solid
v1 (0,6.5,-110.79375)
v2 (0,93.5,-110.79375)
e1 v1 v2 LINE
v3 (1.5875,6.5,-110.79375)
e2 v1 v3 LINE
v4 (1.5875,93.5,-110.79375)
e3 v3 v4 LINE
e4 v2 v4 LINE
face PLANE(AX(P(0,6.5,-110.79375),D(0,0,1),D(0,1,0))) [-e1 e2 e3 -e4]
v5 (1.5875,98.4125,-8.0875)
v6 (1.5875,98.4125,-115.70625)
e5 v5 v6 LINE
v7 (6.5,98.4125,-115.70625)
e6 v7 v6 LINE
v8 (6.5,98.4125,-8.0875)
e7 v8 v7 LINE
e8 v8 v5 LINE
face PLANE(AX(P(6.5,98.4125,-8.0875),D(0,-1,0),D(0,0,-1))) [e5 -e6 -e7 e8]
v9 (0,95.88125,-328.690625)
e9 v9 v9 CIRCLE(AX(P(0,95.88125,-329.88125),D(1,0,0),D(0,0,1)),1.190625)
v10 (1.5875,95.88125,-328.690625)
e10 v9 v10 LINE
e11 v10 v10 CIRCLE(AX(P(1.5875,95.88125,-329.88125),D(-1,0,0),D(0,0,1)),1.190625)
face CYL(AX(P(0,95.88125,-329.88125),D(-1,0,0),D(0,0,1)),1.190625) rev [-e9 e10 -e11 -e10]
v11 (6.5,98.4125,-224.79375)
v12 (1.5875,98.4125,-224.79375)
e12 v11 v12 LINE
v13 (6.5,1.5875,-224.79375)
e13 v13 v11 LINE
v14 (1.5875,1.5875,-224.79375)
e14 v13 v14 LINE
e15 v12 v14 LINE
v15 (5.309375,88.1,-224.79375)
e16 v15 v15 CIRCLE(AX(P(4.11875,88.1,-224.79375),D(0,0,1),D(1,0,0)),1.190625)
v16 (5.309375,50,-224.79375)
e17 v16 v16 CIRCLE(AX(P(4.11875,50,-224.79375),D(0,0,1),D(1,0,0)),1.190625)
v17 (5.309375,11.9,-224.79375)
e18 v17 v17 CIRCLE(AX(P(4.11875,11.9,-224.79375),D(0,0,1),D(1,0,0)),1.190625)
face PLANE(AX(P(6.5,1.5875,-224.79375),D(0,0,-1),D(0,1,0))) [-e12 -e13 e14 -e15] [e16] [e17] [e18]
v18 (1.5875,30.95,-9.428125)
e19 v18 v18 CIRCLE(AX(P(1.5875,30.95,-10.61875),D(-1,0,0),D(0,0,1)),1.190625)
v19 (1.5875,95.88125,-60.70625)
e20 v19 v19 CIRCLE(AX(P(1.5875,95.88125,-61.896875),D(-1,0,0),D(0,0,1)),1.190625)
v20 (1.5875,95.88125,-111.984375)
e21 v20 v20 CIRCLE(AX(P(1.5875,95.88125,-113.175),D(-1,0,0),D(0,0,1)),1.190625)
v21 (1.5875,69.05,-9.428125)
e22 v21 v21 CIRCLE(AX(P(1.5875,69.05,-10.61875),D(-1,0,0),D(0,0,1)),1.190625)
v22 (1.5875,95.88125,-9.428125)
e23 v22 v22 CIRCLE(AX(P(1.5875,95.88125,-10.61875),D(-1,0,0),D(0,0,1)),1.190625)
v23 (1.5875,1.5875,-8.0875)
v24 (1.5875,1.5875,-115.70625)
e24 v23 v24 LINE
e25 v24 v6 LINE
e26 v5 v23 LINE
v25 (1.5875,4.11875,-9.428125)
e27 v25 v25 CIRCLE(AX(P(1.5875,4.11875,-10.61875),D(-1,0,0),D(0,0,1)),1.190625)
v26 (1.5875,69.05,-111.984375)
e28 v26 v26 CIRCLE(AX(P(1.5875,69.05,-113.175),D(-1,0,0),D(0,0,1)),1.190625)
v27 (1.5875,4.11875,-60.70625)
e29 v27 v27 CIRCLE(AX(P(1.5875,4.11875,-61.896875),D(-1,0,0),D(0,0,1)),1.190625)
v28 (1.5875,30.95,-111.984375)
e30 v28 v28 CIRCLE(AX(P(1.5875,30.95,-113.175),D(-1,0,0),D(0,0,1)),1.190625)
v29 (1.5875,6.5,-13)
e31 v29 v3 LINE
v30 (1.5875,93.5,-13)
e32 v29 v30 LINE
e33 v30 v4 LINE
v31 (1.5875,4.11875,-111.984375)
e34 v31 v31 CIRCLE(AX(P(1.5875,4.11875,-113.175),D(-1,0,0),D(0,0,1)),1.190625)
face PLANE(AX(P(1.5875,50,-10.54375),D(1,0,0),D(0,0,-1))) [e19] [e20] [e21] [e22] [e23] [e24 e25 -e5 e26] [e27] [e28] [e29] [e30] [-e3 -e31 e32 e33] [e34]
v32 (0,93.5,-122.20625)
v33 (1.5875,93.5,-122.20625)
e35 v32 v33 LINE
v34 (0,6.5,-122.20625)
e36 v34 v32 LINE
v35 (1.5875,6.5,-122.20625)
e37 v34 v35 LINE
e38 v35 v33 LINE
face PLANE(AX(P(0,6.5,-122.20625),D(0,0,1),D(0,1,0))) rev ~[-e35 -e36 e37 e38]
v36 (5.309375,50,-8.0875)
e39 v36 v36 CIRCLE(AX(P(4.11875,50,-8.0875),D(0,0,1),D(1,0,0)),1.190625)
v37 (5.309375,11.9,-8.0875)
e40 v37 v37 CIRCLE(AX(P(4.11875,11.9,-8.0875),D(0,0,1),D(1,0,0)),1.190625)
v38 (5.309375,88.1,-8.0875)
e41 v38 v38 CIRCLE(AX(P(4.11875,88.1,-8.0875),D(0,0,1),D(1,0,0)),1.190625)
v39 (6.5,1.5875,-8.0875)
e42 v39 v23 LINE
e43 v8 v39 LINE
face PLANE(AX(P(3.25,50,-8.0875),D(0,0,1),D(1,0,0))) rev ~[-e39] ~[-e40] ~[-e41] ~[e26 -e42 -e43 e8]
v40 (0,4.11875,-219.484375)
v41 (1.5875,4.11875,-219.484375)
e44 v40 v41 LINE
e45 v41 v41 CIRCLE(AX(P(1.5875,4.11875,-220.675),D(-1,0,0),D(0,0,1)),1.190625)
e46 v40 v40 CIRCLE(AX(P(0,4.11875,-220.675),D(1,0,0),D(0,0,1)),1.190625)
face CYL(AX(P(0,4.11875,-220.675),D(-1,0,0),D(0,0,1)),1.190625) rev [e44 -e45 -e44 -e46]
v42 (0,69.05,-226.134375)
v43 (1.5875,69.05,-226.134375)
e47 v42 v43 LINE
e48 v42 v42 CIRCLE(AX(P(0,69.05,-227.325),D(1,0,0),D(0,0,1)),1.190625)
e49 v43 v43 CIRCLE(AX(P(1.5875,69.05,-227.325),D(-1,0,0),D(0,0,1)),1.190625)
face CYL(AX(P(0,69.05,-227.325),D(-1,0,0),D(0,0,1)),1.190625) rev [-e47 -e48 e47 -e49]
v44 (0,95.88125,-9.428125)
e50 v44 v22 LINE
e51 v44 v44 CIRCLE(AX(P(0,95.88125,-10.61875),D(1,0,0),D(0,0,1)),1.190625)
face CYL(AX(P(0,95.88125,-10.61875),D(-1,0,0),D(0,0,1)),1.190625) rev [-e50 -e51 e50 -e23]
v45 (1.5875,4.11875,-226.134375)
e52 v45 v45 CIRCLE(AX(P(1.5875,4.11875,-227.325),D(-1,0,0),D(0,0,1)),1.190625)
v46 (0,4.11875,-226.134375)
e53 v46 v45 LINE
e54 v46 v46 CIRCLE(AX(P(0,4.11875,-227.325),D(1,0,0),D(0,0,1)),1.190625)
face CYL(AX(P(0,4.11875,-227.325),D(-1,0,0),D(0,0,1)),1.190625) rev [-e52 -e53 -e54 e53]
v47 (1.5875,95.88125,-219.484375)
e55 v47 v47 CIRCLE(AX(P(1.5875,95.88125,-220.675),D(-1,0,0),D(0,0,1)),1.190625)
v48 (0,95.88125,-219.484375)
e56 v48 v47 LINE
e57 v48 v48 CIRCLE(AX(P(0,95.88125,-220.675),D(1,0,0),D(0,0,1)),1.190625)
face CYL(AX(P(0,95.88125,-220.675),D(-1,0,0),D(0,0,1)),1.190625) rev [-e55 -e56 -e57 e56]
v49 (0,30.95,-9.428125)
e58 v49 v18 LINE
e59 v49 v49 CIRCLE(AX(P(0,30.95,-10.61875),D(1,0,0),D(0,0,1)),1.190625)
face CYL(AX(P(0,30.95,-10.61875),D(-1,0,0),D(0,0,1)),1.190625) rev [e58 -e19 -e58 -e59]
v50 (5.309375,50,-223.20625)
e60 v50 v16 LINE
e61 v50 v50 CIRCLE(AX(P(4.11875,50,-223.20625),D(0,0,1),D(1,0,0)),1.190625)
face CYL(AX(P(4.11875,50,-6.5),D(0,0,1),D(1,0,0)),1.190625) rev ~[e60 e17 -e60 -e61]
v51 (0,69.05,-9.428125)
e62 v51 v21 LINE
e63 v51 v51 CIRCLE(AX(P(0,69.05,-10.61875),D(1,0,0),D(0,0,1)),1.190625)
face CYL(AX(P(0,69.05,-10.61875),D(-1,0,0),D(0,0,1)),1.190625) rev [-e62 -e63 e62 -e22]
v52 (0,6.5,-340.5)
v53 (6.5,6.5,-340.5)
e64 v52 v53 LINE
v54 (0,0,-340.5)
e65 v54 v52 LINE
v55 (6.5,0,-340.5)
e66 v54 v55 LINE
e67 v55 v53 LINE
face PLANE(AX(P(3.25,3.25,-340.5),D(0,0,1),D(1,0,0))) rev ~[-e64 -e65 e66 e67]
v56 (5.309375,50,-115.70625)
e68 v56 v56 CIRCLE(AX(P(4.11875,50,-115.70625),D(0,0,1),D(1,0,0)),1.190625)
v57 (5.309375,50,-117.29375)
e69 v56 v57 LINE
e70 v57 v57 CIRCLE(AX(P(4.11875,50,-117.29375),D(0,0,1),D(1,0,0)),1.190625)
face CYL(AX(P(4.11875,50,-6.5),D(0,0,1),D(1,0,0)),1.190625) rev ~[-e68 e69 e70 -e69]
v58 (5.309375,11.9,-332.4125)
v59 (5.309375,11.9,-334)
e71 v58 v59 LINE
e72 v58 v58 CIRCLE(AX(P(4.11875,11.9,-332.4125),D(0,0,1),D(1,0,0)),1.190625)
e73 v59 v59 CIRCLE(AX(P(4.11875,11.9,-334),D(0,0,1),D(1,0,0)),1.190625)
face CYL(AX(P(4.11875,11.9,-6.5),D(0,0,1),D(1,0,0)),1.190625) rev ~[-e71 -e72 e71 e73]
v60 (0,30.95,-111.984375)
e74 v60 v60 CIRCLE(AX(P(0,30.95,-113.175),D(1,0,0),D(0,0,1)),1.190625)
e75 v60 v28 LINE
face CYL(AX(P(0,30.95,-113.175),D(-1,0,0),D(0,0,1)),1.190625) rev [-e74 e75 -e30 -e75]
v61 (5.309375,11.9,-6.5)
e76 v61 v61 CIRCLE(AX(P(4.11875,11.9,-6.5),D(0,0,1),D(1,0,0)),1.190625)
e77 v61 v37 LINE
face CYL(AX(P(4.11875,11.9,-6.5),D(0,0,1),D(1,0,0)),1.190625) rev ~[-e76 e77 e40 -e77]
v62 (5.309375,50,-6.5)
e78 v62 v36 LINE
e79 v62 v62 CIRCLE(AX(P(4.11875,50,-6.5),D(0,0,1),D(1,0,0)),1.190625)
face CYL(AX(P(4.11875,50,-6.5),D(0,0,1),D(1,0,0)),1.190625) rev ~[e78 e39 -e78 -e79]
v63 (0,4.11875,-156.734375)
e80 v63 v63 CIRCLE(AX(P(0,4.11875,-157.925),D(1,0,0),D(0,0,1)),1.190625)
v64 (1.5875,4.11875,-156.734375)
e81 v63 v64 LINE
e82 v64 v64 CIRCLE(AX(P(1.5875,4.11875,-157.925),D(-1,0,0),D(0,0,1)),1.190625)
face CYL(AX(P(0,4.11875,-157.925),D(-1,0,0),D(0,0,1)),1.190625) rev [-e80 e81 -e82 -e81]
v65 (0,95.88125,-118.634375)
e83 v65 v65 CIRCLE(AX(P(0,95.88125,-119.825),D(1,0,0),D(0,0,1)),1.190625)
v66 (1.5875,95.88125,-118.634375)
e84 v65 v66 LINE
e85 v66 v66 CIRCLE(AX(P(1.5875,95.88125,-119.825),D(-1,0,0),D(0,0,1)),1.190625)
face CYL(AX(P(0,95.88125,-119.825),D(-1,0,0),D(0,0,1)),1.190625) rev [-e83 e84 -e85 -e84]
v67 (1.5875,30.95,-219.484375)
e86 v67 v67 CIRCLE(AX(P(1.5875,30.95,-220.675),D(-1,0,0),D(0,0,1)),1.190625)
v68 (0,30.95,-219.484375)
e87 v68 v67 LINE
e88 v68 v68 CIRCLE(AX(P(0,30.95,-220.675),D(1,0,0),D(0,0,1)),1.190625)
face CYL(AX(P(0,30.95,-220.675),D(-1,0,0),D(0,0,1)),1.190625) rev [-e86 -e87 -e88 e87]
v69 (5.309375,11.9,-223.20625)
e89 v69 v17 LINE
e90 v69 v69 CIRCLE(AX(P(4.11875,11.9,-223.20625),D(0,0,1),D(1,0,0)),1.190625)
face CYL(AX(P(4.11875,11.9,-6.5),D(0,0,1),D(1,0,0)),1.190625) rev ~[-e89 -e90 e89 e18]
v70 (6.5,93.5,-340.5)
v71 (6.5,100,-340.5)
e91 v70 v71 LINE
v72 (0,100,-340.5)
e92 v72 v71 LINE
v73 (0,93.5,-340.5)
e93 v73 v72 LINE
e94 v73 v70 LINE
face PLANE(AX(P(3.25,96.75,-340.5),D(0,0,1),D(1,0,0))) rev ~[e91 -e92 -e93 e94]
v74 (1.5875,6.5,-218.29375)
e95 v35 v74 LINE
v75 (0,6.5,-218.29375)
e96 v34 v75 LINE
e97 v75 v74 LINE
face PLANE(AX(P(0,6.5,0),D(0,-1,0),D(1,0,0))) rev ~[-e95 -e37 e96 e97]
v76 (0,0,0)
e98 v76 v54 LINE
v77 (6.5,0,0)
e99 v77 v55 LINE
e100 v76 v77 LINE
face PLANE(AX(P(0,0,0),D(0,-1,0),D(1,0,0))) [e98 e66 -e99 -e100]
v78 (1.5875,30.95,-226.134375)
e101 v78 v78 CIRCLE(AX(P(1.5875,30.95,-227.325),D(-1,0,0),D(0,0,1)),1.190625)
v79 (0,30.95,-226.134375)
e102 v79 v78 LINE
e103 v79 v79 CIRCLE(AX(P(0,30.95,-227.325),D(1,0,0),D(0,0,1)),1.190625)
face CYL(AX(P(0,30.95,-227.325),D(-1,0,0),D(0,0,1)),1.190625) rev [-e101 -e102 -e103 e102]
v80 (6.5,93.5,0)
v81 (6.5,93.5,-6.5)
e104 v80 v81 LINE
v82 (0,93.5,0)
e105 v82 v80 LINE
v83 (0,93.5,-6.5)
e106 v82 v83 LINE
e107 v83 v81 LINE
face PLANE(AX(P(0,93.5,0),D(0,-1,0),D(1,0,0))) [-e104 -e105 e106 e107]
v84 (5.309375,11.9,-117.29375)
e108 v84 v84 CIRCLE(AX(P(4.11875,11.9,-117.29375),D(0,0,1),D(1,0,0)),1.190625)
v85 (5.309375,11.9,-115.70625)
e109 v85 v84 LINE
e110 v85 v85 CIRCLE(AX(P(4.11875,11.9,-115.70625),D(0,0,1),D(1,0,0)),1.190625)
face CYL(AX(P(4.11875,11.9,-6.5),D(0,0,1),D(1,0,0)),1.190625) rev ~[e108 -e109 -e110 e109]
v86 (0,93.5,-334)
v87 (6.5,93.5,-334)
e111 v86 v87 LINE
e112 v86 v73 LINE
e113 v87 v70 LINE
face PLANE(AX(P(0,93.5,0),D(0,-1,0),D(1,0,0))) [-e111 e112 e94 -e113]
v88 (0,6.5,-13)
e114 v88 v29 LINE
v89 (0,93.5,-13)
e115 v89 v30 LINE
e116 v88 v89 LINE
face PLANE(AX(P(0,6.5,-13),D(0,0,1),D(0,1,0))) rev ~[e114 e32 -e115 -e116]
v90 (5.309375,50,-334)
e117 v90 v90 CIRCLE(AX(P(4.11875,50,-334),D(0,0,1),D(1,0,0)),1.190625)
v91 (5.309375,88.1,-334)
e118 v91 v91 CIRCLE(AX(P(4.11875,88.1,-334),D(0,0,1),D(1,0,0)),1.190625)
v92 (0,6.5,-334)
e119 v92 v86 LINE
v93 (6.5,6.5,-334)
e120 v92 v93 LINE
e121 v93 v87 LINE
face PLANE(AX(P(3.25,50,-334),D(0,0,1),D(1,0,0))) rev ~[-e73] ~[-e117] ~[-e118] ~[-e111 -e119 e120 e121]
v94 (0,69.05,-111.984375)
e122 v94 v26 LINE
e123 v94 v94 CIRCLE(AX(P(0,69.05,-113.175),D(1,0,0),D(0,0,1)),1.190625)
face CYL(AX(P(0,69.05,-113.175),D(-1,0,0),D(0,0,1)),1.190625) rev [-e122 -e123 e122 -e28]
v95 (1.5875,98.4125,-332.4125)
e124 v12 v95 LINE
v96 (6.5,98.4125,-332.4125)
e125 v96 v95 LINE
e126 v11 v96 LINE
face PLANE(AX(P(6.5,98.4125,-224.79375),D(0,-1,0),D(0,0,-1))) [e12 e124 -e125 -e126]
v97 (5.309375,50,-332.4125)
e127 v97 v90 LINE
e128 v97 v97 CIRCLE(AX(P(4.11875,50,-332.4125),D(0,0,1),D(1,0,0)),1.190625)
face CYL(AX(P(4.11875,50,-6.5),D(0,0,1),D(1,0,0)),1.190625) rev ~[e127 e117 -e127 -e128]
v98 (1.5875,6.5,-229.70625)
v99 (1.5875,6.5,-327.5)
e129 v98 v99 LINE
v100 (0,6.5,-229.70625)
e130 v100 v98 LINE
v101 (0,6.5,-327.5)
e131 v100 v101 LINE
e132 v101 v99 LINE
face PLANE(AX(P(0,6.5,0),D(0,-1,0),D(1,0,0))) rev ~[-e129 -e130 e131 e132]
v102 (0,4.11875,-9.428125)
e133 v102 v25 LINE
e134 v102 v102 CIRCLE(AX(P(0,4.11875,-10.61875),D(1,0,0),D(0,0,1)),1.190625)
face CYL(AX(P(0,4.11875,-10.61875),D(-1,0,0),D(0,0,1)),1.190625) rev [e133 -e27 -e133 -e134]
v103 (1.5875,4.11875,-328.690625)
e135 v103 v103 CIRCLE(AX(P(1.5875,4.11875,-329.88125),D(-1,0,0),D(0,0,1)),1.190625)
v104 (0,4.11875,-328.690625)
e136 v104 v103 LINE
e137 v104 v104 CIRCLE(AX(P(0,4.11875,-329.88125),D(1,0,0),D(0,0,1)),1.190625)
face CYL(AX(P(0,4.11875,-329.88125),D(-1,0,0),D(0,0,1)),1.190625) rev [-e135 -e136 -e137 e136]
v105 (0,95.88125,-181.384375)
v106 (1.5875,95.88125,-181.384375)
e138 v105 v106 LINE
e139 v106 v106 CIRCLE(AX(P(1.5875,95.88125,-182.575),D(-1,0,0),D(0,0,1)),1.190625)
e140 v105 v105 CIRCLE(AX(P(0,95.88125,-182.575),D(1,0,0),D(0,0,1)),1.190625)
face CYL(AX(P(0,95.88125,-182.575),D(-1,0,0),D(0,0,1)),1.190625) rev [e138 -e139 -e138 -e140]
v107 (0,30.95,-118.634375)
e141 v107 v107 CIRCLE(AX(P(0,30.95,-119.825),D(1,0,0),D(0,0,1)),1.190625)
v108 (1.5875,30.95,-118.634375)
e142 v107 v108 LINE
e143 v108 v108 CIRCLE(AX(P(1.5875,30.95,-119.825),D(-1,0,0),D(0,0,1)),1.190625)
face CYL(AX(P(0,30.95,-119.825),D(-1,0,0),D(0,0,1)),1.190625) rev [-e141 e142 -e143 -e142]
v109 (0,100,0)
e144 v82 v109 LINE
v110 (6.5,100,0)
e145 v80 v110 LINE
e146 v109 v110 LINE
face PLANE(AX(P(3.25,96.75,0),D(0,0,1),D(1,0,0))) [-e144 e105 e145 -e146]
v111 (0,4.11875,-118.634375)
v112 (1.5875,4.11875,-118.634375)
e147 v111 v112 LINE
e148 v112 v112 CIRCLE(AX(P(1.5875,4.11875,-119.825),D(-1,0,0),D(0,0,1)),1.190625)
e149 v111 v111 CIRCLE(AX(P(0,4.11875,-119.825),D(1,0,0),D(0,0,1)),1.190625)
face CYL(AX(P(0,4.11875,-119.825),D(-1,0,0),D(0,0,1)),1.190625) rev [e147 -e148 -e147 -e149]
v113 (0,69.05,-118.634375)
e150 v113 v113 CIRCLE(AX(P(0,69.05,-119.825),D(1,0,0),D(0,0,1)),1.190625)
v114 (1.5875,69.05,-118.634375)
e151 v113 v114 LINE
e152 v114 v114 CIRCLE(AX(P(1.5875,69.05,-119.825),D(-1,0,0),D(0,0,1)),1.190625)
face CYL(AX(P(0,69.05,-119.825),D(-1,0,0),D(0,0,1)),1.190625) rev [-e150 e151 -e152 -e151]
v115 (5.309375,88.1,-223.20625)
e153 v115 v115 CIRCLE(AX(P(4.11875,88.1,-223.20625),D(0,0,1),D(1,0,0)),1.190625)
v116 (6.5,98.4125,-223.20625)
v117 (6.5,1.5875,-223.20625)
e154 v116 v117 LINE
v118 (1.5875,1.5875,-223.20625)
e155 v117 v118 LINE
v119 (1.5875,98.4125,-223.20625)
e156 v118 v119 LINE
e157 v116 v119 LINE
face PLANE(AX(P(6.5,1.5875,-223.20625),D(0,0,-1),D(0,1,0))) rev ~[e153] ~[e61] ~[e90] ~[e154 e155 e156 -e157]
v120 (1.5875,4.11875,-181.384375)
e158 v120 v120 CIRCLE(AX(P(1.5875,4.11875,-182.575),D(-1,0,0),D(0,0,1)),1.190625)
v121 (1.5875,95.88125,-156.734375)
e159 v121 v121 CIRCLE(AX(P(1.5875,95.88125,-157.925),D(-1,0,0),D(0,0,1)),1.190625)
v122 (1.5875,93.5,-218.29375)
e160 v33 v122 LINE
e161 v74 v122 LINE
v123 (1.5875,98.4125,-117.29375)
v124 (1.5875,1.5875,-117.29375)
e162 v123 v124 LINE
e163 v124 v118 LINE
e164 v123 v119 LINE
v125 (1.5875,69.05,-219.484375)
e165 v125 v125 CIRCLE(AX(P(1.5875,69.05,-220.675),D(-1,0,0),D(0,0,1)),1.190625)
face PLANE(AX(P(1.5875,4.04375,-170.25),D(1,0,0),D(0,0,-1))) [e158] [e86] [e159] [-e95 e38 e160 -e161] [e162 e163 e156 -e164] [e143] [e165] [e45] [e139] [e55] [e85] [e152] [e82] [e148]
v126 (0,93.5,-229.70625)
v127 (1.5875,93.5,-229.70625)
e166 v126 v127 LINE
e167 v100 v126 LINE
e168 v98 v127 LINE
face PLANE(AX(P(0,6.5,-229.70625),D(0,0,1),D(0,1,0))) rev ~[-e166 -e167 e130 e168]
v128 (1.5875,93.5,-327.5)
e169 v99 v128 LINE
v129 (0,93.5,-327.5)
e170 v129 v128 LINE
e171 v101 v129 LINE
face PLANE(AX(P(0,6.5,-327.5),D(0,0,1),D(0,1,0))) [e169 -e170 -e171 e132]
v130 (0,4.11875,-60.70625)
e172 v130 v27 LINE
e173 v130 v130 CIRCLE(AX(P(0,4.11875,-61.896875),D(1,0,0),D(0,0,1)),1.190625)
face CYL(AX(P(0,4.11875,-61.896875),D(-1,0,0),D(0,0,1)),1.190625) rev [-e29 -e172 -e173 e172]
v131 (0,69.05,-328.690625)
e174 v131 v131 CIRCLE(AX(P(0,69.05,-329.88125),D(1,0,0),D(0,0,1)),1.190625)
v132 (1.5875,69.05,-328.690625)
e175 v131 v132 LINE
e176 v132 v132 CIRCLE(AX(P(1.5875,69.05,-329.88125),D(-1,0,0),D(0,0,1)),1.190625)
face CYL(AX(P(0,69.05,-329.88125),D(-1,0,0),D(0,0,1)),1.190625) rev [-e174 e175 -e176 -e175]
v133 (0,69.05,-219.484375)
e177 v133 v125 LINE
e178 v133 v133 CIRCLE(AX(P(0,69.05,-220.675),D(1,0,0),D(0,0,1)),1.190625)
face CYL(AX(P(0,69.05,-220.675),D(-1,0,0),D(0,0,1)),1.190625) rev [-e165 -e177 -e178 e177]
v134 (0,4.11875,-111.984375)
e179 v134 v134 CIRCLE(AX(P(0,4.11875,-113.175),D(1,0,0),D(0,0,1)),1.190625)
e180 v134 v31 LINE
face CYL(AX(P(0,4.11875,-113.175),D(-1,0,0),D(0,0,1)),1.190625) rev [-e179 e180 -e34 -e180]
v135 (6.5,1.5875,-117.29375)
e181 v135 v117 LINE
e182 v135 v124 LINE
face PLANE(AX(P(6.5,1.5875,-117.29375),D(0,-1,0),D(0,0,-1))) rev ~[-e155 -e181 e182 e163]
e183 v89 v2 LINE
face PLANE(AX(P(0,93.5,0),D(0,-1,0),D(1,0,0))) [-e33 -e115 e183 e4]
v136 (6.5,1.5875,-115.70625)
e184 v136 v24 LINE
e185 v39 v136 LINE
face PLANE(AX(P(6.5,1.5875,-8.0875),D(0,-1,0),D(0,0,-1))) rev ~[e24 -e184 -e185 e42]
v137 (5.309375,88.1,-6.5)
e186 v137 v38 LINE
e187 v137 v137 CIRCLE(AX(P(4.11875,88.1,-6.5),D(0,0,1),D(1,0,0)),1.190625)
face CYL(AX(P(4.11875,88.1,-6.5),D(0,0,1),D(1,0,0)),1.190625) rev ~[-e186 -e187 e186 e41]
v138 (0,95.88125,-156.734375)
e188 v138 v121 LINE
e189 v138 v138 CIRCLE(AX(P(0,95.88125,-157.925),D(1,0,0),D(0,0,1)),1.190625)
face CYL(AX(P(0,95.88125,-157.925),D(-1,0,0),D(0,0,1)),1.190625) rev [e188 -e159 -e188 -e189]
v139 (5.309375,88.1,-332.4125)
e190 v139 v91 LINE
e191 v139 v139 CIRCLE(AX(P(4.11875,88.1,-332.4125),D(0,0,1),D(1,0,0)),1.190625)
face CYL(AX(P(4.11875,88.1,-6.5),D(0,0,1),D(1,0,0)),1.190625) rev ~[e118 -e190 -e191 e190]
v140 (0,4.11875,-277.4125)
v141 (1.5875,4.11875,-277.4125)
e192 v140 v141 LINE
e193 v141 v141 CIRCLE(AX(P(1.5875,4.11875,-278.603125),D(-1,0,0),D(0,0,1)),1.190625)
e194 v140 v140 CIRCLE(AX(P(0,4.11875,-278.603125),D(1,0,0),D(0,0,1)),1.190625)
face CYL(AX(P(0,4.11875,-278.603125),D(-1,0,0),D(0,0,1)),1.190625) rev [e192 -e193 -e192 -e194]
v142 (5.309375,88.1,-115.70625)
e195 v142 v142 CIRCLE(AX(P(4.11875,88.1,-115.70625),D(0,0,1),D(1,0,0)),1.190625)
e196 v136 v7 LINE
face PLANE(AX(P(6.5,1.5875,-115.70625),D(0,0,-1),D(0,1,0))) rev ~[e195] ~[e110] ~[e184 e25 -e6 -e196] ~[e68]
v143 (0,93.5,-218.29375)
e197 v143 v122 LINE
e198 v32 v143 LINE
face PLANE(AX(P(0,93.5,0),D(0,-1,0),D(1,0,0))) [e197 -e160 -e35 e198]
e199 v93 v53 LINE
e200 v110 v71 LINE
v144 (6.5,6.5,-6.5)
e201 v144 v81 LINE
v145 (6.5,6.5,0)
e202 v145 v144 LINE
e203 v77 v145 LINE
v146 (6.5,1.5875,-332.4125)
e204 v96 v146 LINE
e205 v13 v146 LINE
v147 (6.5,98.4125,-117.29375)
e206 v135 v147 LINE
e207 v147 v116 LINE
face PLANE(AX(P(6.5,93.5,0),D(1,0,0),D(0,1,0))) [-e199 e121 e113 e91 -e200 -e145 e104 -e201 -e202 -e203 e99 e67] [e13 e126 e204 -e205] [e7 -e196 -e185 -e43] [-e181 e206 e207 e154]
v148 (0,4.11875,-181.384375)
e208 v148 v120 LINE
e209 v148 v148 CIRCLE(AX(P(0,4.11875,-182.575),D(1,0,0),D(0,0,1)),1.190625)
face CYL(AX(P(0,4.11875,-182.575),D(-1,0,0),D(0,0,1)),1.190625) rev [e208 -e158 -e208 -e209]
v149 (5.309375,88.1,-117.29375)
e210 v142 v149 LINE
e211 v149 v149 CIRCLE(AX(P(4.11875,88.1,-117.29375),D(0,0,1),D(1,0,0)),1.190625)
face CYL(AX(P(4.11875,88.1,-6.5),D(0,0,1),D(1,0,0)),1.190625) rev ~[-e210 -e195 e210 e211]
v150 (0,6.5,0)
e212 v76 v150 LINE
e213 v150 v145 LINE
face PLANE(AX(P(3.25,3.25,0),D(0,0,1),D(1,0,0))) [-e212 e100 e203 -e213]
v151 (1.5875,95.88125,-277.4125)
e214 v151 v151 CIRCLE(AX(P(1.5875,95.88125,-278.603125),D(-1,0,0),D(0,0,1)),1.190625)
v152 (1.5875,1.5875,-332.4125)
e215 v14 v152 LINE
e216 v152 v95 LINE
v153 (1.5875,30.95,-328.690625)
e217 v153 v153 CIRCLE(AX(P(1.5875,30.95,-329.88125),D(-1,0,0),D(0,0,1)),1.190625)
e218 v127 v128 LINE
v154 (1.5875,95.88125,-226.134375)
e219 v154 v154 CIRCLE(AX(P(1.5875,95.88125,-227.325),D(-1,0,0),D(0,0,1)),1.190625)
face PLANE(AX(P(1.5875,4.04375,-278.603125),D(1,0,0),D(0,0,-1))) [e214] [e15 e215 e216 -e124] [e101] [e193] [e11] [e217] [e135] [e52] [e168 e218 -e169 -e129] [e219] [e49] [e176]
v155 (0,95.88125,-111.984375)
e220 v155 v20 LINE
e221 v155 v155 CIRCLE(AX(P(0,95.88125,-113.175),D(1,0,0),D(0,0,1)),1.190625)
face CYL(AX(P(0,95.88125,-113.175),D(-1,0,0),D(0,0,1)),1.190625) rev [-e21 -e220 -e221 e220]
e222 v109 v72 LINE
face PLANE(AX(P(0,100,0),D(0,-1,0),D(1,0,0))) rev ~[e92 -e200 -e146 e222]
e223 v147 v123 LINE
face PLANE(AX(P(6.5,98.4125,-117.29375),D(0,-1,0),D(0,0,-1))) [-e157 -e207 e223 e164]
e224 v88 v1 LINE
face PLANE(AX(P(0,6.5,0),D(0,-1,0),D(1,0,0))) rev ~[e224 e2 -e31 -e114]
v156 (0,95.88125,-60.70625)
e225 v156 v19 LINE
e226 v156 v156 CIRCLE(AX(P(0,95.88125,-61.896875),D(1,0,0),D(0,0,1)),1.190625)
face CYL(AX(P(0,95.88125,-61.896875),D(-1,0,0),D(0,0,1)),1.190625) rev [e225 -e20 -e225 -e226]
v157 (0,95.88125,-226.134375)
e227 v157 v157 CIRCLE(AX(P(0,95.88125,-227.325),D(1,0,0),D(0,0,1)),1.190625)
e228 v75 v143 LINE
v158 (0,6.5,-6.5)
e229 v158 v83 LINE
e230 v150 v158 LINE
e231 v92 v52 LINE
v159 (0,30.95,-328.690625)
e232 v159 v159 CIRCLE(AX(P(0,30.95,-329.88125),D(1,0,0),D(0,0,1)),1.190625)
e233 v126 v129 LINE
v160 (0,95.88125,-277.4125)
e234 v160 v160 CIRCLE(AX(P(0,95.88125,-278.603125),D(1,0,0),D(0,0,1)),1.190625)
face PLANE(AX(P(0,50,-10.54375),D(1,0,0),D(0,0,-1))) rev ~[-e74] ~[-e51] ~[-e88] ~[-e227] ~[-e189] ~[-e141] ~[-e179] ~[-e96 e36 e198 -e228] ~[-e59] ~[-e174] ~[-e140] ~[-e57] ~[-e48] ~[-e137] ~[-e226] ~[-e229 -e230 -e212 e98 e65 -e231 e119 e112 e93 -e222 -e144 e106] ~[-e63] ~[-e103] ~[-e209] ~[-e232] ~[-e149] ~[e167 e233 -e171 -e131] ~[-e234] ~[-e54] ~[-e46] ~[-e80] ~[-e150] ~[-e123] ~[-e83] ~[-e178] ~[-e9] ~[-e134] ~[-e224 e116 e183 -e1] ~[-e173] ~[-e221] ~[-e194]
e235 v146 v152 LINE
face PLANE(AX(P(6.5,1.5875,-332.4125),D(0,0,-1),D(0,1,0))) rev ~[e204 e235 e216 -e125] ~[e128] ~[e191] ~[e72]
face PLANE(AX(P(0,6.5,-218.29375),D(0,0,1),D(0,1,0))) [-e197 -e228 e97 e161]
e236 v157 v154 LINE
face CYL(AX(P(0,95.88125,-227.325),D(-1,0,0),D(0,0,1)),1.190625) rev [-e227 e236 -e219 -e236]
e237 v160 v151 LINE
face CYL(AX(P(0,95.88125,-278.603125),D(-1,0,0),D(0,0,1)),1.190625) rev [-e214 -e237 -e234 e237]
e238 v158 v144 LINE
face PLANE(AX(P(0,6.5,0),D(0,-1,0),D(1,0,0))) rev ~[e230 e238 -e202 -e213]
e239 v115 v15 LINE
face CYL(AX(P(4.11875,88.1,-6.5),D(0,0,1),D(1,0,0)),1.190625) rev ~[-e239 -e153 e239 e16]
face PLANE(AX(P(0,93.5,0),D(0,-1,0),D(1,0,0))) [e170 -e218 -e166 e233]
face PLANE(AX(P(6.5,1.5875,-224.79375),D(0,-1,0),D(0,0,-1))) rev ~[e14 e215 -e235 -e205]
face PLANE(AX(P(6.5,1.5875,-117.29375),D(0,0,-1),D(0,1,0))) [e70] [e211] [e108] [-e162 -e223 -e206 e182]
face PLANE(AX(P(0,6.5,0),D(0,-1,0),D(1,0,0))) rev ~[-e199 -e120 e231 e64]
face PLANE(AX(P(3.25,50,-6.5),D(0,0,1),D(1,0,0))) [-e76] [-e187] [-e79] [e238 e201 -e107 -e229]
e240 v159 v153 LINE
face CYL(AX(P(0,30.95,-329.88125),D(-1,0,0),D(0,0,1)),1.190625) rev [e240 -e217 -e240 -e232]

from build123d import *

# Parameters (mm, degrees)
SKETCH2_W             = 6.5
SKETCH2_H             = 6.5
RAILS_DEPTH           = 340.5
RAILS_2_DEPTH         = 340.5
SKETCH3_W             = 6.5
SKETCH3_H             = 87
FRONT_STRUT_DEPTH     = 1.5875
SKETCH4_W             = 6.5
SKETCH4_H             = 87
FRONT_MID_STRUT_DEPTH = 0.79375
SKETCH5_W             = 6.5
SKETCH5_H             = 87
BACK_MID_STRUT_DEPTH  = 0.79375
SKETCH6_W             = 6.5
SKETCH6_H             = 87
BACK_STRUT_DEPTH      = 1.5875
SKETCH7_W             = 4.9125
SKETCH7_H             = 87
X_SIDE_FLANGES_DEPTH  = 1.5875
SKETCH8_W             = 107.618749964
SKETCH8_H             = 4.9125
SKETCH8_W_2           = 105.912500092
FRAME_INSERTS_DEPTH   = 4.9125
SKETCH9_R             = 1.190625
Z_SCREWHOLES_DEPTH    = 349.70940624
SKETCH10_R            = 1.190625
X_SCREWHOLES_DEPTH    = 355.940135798


with BuildPart() as part:
    # Sketch2 → rails (new body)
    with BuildSketch(Plane.XY):
        with Locations((3.25, 3.25)):
            Rectangle(SKETCH2_W, SKETCH2_H)
    extrude(amount=-RAILS_DEPTH)



with BuildPart() as body_2:
    # Sketch2 → rails 2 (new body)
    with BuildSketch(Plane.XY):
        with Locations((3.25, 96.75)):
            Rectangle(SKETCH2_W, SKETCH2_H)
    extrude(amount=-RAILS_2_DEPTH)


with BuildPart() as part_1:
    add(part.part)

    add(body_2.part)  # front strut merges body 2
    # Sketch3 → front strut (add)
    with BuildSketch(Plane.XY.offset(-6.5)):
        with Locations((3.25, 50)):
            Rectangle(SKETCH3_W, SKETCH3_H)
    extrude(amount=-FRONT_STRUT_DEPTH)

    # Sketch4 → front mid strut (add, symmetric)
    with BuildSketch(Plane.XY.offset(-116.499999964)):
        with Locations((3.25, 50)):
            Rectangle(SKETCH4_W, SKETCH4_H)
    extrude(amount=FRONT_MID_STRUT_DEPTH, both=True)

    # Sketch5 → back mid strut (add, symmetric)
    with BuildSketch(Plane.XY.offset(-224.000000056)):
        with Locations((3.25, 50)):
            Rectangle(SKETCH5_W, SKETCH5_H)
    extrude(amount=BACK_MID_STRUT_DEPTH, both=True)

    # Sketch6 → back strut (add)
    with BuildSketch(Plane.XY.offset(-334.00000002)):
        with Locations((3.25, 50)):
            Rectangle(SKETCH6_W, SKETCH6_H)
    extrude(amount=BACK_STRUT_DEPTH)

    # Sketch7 → x side flanges (add)
    with BuildSketch(Plane(origin=(0, 0, 0), x_dir=(0, 0, -1), z_dir=(1, 0, 0))):
        with Locations((10.54375, 50)):
            Rectangle(SKETCH7_W, SKETCH7_H)
        with Locations((113.249999964, 50)):
            Rectangle(SKETCH7_W, SKETCH7_H)
        with Locations((119.749999964, 50)):
            Rectangle(SKETCH7_W, SKETCH7_H)
        with Locations((220.750000056, 50)):
            Rectangle(SKETCH7_W, SKETCH7_H)
        with Locations((227.250000056, 50)):
            Rectangle(SKETCH7_W, SKETCH7_H)
        with Locations((329.95625002, 50)):
            Rectangle(SKETCH7_W, SKETCH7_H)
    extrude(amount=X_SIDE_FLANGES_DEPTH)

    # Sketch8 → frame inserts (cut)
    with BuildSketch(Plane(origin=(6.5, 0, 0), x_dir=(0, 0, -1), z_dir=(1, 0, 0))):
        with Locations((61.896874982, 4.04375)):
            Rectangle(SKETCH8_W, SKETCH8_H)
        with Locations((61.896874982, 95.95625)):
            Rectangle(SKETCH8_W, SKETCH8_H)
        with Locations((170.25000001, 95.95625)):
            Rectangle(SKETCH8_W_2, SKETCH8_H)
        with Locations((170.25000001, 4.04375)):
            Rectangle(SKETCH8_W_2, SKETCH8_H)
        with Locations((278.603125038, 4.04375)):
            Rectangle(SKETCH8_W, SKETCH8_H)
        with Locations((278.603125038, 95.95625)):
            Rectangle(SKETCH8_W, SKETCH8_H)
    extrude(amount=-FRAME_INSERTS_DEPTH, mode=Mode.SUBTRACT)

    # Sketch9 → z screwholes (cut, through all)
    with BuildSketch(Plane.XY.offset(-6.5)):
        with Locations((4.11875, 88.1)):
            Circle(SKETCH9_R)
        with Locations((4.11875, 50)):
            Circle(SKETCH9_R)
        with Locations((4.11875, 11.9)):
            Circle(SKETCH9_R)
    extrude(amount=-Z_SCREWHOLES_DEPTH, mode=Mode.SUBTRACT)

    # Sketch10 → x screwholes (cut, through all)
    with BuildSketch(Plane(origin=(0, 0, 0), x_dir=(0, 0, -1), z_dir=(1, 0, 0))):
        with Locations(Location((10.61875, 95.88125, 0), (0, 0, 180))):
            Circle(SKETCH10_R)
        with Locations(Location((113.174999964, 95.88125, 0), (0, 0, 180))):
            Circle(SKETCH10_R)
        with Locations(Location((61.896874982, 95.88125, 0), (0, 0, 180))):
            Circle(SKETCH10_R)
        with Locations(Location((119.824999964, 95.88125, 0), (0, 0, 180))):
            Circle(SKETCH10_R)
        with Locations(Location((157.924999964, 95.88125, 0), (0, 0, 180))):
            Circle(SKETCH10_R)
        with Locations(Location((10.61875, 69.05, 0), (0, 0, 180))):
            Circle(SKETCH10_R)
        with Locations(Location((113.174999964, 69.05, 0), (0, 0, 180))):
            Circle(SKETCH10_R)
        with Locations(Location((119.824999964, 69.05, 0), (0, 0, 180))):
            Circle(SKETCH10_R)
        with Locations(Location((220.675000056, 69.05, 0), (0, 0, 180))):
            Circle(SKETCH10_R)
        with Locations(Location((227.325000056, 69.05, 0), (0, 0, 180))):
            Circle(SKETCH10_R)
        with Locations(Location((329.88125002, 69.05, 0), (0, 0, 180))):
            Circle(SKETCH10_R)
        with Locations(Location((182.575000056, 95.88125, 0), (0, 0, 180))):
            Circle(SKETCH10_R)
        with Locations(Location((220.675000056, 95.88125, 0), (0, 0, 180))):
            Circle(SKETCH10_R)
        with Locations(Location((278.603125038, 95.88125, 0), (0, 0, 180))):
            Circle(SKETCH10_R)
        with Locations(Location((227.325000056, 95.88125, 0), (0, 0, 180))):
            Circle(SKETCH10_R)
        with Locations(Location((329.88125002, 95.88125, 0), (0, 0, 180))):
            Circle(SKETCH10_R)
        with Locations(Location((329.88125002, 4.11875, 0), (0, 0, 180))):
            Circle(SKETCH10_R)
        with Locations(Location((227.325000056, 4.11875, 0), (0, 0, 180))):
            Circle(SKETCH10_R)
        with Locations(Location((278.603125038, 4.11875, 0), (0, 0, 180))):
            Circle(SKETCH10_R)
        with Locations(Location((220.675000056, 4.11875, 0), (0, 0, 180))):
            Circle(SKETCH10_R)
        with Locations(Location((182.575000056, 4.11875, 0), (0, 0, 180))):
            Circle(SKETCH10_R)
        with Locations(Location((329.88125002, 30.95, 0), (0, 0, 180))):
            Circle(SKETCH10_R)
        with Locations(Location((227.325000056, 30.95, 0), (0, 0, 180))):
            Circle(SKETCH10_R)
        with Locations(Location((220.675000056, 30.95, 0), (0, 0, 180))):
            Circle(SKETCH10_R)
        with Locations(Location((119.824999964, 30.95, 0), (0, 0, 180))):
            Circle(SKETCH10_R)
        with Locations(Location((113.174999964, 30.95, 0), (0, 0, 180))):
            Circle(SKETCH10_R)
        with Locations(Location((10.61875, 30.95, 0), (0, 0, 180))):
            Circle(SKETCH10_R)
        with Locations(Location((157.924999964, 4.11875, 0), (0, 0, 180))):
            Circle(SKETCH10_R)
        with Locations(Location((119.824999964, 4.11875, 0), (0, 0, 180))):
            Circle(SKETCH10_R)
        with Locations(Location((61.896874982, 4.11875, 0), (0, 0, 180))):
            Circle(SKETCH10_R)
        with Locations(Location((113.174999964, 4.11875, 0), (0, 0, 180))):
            Circle(SKETCH10_R)
        with Locations(Location((10.61875, 4.11875, 0), (0, 0, 180))):
            Circle(SKETCH10_R)
    extrude(amount=X_SCREWHOLES_DEPTH, mode=Mode.SUBTRACT)


solid = part_1.part
